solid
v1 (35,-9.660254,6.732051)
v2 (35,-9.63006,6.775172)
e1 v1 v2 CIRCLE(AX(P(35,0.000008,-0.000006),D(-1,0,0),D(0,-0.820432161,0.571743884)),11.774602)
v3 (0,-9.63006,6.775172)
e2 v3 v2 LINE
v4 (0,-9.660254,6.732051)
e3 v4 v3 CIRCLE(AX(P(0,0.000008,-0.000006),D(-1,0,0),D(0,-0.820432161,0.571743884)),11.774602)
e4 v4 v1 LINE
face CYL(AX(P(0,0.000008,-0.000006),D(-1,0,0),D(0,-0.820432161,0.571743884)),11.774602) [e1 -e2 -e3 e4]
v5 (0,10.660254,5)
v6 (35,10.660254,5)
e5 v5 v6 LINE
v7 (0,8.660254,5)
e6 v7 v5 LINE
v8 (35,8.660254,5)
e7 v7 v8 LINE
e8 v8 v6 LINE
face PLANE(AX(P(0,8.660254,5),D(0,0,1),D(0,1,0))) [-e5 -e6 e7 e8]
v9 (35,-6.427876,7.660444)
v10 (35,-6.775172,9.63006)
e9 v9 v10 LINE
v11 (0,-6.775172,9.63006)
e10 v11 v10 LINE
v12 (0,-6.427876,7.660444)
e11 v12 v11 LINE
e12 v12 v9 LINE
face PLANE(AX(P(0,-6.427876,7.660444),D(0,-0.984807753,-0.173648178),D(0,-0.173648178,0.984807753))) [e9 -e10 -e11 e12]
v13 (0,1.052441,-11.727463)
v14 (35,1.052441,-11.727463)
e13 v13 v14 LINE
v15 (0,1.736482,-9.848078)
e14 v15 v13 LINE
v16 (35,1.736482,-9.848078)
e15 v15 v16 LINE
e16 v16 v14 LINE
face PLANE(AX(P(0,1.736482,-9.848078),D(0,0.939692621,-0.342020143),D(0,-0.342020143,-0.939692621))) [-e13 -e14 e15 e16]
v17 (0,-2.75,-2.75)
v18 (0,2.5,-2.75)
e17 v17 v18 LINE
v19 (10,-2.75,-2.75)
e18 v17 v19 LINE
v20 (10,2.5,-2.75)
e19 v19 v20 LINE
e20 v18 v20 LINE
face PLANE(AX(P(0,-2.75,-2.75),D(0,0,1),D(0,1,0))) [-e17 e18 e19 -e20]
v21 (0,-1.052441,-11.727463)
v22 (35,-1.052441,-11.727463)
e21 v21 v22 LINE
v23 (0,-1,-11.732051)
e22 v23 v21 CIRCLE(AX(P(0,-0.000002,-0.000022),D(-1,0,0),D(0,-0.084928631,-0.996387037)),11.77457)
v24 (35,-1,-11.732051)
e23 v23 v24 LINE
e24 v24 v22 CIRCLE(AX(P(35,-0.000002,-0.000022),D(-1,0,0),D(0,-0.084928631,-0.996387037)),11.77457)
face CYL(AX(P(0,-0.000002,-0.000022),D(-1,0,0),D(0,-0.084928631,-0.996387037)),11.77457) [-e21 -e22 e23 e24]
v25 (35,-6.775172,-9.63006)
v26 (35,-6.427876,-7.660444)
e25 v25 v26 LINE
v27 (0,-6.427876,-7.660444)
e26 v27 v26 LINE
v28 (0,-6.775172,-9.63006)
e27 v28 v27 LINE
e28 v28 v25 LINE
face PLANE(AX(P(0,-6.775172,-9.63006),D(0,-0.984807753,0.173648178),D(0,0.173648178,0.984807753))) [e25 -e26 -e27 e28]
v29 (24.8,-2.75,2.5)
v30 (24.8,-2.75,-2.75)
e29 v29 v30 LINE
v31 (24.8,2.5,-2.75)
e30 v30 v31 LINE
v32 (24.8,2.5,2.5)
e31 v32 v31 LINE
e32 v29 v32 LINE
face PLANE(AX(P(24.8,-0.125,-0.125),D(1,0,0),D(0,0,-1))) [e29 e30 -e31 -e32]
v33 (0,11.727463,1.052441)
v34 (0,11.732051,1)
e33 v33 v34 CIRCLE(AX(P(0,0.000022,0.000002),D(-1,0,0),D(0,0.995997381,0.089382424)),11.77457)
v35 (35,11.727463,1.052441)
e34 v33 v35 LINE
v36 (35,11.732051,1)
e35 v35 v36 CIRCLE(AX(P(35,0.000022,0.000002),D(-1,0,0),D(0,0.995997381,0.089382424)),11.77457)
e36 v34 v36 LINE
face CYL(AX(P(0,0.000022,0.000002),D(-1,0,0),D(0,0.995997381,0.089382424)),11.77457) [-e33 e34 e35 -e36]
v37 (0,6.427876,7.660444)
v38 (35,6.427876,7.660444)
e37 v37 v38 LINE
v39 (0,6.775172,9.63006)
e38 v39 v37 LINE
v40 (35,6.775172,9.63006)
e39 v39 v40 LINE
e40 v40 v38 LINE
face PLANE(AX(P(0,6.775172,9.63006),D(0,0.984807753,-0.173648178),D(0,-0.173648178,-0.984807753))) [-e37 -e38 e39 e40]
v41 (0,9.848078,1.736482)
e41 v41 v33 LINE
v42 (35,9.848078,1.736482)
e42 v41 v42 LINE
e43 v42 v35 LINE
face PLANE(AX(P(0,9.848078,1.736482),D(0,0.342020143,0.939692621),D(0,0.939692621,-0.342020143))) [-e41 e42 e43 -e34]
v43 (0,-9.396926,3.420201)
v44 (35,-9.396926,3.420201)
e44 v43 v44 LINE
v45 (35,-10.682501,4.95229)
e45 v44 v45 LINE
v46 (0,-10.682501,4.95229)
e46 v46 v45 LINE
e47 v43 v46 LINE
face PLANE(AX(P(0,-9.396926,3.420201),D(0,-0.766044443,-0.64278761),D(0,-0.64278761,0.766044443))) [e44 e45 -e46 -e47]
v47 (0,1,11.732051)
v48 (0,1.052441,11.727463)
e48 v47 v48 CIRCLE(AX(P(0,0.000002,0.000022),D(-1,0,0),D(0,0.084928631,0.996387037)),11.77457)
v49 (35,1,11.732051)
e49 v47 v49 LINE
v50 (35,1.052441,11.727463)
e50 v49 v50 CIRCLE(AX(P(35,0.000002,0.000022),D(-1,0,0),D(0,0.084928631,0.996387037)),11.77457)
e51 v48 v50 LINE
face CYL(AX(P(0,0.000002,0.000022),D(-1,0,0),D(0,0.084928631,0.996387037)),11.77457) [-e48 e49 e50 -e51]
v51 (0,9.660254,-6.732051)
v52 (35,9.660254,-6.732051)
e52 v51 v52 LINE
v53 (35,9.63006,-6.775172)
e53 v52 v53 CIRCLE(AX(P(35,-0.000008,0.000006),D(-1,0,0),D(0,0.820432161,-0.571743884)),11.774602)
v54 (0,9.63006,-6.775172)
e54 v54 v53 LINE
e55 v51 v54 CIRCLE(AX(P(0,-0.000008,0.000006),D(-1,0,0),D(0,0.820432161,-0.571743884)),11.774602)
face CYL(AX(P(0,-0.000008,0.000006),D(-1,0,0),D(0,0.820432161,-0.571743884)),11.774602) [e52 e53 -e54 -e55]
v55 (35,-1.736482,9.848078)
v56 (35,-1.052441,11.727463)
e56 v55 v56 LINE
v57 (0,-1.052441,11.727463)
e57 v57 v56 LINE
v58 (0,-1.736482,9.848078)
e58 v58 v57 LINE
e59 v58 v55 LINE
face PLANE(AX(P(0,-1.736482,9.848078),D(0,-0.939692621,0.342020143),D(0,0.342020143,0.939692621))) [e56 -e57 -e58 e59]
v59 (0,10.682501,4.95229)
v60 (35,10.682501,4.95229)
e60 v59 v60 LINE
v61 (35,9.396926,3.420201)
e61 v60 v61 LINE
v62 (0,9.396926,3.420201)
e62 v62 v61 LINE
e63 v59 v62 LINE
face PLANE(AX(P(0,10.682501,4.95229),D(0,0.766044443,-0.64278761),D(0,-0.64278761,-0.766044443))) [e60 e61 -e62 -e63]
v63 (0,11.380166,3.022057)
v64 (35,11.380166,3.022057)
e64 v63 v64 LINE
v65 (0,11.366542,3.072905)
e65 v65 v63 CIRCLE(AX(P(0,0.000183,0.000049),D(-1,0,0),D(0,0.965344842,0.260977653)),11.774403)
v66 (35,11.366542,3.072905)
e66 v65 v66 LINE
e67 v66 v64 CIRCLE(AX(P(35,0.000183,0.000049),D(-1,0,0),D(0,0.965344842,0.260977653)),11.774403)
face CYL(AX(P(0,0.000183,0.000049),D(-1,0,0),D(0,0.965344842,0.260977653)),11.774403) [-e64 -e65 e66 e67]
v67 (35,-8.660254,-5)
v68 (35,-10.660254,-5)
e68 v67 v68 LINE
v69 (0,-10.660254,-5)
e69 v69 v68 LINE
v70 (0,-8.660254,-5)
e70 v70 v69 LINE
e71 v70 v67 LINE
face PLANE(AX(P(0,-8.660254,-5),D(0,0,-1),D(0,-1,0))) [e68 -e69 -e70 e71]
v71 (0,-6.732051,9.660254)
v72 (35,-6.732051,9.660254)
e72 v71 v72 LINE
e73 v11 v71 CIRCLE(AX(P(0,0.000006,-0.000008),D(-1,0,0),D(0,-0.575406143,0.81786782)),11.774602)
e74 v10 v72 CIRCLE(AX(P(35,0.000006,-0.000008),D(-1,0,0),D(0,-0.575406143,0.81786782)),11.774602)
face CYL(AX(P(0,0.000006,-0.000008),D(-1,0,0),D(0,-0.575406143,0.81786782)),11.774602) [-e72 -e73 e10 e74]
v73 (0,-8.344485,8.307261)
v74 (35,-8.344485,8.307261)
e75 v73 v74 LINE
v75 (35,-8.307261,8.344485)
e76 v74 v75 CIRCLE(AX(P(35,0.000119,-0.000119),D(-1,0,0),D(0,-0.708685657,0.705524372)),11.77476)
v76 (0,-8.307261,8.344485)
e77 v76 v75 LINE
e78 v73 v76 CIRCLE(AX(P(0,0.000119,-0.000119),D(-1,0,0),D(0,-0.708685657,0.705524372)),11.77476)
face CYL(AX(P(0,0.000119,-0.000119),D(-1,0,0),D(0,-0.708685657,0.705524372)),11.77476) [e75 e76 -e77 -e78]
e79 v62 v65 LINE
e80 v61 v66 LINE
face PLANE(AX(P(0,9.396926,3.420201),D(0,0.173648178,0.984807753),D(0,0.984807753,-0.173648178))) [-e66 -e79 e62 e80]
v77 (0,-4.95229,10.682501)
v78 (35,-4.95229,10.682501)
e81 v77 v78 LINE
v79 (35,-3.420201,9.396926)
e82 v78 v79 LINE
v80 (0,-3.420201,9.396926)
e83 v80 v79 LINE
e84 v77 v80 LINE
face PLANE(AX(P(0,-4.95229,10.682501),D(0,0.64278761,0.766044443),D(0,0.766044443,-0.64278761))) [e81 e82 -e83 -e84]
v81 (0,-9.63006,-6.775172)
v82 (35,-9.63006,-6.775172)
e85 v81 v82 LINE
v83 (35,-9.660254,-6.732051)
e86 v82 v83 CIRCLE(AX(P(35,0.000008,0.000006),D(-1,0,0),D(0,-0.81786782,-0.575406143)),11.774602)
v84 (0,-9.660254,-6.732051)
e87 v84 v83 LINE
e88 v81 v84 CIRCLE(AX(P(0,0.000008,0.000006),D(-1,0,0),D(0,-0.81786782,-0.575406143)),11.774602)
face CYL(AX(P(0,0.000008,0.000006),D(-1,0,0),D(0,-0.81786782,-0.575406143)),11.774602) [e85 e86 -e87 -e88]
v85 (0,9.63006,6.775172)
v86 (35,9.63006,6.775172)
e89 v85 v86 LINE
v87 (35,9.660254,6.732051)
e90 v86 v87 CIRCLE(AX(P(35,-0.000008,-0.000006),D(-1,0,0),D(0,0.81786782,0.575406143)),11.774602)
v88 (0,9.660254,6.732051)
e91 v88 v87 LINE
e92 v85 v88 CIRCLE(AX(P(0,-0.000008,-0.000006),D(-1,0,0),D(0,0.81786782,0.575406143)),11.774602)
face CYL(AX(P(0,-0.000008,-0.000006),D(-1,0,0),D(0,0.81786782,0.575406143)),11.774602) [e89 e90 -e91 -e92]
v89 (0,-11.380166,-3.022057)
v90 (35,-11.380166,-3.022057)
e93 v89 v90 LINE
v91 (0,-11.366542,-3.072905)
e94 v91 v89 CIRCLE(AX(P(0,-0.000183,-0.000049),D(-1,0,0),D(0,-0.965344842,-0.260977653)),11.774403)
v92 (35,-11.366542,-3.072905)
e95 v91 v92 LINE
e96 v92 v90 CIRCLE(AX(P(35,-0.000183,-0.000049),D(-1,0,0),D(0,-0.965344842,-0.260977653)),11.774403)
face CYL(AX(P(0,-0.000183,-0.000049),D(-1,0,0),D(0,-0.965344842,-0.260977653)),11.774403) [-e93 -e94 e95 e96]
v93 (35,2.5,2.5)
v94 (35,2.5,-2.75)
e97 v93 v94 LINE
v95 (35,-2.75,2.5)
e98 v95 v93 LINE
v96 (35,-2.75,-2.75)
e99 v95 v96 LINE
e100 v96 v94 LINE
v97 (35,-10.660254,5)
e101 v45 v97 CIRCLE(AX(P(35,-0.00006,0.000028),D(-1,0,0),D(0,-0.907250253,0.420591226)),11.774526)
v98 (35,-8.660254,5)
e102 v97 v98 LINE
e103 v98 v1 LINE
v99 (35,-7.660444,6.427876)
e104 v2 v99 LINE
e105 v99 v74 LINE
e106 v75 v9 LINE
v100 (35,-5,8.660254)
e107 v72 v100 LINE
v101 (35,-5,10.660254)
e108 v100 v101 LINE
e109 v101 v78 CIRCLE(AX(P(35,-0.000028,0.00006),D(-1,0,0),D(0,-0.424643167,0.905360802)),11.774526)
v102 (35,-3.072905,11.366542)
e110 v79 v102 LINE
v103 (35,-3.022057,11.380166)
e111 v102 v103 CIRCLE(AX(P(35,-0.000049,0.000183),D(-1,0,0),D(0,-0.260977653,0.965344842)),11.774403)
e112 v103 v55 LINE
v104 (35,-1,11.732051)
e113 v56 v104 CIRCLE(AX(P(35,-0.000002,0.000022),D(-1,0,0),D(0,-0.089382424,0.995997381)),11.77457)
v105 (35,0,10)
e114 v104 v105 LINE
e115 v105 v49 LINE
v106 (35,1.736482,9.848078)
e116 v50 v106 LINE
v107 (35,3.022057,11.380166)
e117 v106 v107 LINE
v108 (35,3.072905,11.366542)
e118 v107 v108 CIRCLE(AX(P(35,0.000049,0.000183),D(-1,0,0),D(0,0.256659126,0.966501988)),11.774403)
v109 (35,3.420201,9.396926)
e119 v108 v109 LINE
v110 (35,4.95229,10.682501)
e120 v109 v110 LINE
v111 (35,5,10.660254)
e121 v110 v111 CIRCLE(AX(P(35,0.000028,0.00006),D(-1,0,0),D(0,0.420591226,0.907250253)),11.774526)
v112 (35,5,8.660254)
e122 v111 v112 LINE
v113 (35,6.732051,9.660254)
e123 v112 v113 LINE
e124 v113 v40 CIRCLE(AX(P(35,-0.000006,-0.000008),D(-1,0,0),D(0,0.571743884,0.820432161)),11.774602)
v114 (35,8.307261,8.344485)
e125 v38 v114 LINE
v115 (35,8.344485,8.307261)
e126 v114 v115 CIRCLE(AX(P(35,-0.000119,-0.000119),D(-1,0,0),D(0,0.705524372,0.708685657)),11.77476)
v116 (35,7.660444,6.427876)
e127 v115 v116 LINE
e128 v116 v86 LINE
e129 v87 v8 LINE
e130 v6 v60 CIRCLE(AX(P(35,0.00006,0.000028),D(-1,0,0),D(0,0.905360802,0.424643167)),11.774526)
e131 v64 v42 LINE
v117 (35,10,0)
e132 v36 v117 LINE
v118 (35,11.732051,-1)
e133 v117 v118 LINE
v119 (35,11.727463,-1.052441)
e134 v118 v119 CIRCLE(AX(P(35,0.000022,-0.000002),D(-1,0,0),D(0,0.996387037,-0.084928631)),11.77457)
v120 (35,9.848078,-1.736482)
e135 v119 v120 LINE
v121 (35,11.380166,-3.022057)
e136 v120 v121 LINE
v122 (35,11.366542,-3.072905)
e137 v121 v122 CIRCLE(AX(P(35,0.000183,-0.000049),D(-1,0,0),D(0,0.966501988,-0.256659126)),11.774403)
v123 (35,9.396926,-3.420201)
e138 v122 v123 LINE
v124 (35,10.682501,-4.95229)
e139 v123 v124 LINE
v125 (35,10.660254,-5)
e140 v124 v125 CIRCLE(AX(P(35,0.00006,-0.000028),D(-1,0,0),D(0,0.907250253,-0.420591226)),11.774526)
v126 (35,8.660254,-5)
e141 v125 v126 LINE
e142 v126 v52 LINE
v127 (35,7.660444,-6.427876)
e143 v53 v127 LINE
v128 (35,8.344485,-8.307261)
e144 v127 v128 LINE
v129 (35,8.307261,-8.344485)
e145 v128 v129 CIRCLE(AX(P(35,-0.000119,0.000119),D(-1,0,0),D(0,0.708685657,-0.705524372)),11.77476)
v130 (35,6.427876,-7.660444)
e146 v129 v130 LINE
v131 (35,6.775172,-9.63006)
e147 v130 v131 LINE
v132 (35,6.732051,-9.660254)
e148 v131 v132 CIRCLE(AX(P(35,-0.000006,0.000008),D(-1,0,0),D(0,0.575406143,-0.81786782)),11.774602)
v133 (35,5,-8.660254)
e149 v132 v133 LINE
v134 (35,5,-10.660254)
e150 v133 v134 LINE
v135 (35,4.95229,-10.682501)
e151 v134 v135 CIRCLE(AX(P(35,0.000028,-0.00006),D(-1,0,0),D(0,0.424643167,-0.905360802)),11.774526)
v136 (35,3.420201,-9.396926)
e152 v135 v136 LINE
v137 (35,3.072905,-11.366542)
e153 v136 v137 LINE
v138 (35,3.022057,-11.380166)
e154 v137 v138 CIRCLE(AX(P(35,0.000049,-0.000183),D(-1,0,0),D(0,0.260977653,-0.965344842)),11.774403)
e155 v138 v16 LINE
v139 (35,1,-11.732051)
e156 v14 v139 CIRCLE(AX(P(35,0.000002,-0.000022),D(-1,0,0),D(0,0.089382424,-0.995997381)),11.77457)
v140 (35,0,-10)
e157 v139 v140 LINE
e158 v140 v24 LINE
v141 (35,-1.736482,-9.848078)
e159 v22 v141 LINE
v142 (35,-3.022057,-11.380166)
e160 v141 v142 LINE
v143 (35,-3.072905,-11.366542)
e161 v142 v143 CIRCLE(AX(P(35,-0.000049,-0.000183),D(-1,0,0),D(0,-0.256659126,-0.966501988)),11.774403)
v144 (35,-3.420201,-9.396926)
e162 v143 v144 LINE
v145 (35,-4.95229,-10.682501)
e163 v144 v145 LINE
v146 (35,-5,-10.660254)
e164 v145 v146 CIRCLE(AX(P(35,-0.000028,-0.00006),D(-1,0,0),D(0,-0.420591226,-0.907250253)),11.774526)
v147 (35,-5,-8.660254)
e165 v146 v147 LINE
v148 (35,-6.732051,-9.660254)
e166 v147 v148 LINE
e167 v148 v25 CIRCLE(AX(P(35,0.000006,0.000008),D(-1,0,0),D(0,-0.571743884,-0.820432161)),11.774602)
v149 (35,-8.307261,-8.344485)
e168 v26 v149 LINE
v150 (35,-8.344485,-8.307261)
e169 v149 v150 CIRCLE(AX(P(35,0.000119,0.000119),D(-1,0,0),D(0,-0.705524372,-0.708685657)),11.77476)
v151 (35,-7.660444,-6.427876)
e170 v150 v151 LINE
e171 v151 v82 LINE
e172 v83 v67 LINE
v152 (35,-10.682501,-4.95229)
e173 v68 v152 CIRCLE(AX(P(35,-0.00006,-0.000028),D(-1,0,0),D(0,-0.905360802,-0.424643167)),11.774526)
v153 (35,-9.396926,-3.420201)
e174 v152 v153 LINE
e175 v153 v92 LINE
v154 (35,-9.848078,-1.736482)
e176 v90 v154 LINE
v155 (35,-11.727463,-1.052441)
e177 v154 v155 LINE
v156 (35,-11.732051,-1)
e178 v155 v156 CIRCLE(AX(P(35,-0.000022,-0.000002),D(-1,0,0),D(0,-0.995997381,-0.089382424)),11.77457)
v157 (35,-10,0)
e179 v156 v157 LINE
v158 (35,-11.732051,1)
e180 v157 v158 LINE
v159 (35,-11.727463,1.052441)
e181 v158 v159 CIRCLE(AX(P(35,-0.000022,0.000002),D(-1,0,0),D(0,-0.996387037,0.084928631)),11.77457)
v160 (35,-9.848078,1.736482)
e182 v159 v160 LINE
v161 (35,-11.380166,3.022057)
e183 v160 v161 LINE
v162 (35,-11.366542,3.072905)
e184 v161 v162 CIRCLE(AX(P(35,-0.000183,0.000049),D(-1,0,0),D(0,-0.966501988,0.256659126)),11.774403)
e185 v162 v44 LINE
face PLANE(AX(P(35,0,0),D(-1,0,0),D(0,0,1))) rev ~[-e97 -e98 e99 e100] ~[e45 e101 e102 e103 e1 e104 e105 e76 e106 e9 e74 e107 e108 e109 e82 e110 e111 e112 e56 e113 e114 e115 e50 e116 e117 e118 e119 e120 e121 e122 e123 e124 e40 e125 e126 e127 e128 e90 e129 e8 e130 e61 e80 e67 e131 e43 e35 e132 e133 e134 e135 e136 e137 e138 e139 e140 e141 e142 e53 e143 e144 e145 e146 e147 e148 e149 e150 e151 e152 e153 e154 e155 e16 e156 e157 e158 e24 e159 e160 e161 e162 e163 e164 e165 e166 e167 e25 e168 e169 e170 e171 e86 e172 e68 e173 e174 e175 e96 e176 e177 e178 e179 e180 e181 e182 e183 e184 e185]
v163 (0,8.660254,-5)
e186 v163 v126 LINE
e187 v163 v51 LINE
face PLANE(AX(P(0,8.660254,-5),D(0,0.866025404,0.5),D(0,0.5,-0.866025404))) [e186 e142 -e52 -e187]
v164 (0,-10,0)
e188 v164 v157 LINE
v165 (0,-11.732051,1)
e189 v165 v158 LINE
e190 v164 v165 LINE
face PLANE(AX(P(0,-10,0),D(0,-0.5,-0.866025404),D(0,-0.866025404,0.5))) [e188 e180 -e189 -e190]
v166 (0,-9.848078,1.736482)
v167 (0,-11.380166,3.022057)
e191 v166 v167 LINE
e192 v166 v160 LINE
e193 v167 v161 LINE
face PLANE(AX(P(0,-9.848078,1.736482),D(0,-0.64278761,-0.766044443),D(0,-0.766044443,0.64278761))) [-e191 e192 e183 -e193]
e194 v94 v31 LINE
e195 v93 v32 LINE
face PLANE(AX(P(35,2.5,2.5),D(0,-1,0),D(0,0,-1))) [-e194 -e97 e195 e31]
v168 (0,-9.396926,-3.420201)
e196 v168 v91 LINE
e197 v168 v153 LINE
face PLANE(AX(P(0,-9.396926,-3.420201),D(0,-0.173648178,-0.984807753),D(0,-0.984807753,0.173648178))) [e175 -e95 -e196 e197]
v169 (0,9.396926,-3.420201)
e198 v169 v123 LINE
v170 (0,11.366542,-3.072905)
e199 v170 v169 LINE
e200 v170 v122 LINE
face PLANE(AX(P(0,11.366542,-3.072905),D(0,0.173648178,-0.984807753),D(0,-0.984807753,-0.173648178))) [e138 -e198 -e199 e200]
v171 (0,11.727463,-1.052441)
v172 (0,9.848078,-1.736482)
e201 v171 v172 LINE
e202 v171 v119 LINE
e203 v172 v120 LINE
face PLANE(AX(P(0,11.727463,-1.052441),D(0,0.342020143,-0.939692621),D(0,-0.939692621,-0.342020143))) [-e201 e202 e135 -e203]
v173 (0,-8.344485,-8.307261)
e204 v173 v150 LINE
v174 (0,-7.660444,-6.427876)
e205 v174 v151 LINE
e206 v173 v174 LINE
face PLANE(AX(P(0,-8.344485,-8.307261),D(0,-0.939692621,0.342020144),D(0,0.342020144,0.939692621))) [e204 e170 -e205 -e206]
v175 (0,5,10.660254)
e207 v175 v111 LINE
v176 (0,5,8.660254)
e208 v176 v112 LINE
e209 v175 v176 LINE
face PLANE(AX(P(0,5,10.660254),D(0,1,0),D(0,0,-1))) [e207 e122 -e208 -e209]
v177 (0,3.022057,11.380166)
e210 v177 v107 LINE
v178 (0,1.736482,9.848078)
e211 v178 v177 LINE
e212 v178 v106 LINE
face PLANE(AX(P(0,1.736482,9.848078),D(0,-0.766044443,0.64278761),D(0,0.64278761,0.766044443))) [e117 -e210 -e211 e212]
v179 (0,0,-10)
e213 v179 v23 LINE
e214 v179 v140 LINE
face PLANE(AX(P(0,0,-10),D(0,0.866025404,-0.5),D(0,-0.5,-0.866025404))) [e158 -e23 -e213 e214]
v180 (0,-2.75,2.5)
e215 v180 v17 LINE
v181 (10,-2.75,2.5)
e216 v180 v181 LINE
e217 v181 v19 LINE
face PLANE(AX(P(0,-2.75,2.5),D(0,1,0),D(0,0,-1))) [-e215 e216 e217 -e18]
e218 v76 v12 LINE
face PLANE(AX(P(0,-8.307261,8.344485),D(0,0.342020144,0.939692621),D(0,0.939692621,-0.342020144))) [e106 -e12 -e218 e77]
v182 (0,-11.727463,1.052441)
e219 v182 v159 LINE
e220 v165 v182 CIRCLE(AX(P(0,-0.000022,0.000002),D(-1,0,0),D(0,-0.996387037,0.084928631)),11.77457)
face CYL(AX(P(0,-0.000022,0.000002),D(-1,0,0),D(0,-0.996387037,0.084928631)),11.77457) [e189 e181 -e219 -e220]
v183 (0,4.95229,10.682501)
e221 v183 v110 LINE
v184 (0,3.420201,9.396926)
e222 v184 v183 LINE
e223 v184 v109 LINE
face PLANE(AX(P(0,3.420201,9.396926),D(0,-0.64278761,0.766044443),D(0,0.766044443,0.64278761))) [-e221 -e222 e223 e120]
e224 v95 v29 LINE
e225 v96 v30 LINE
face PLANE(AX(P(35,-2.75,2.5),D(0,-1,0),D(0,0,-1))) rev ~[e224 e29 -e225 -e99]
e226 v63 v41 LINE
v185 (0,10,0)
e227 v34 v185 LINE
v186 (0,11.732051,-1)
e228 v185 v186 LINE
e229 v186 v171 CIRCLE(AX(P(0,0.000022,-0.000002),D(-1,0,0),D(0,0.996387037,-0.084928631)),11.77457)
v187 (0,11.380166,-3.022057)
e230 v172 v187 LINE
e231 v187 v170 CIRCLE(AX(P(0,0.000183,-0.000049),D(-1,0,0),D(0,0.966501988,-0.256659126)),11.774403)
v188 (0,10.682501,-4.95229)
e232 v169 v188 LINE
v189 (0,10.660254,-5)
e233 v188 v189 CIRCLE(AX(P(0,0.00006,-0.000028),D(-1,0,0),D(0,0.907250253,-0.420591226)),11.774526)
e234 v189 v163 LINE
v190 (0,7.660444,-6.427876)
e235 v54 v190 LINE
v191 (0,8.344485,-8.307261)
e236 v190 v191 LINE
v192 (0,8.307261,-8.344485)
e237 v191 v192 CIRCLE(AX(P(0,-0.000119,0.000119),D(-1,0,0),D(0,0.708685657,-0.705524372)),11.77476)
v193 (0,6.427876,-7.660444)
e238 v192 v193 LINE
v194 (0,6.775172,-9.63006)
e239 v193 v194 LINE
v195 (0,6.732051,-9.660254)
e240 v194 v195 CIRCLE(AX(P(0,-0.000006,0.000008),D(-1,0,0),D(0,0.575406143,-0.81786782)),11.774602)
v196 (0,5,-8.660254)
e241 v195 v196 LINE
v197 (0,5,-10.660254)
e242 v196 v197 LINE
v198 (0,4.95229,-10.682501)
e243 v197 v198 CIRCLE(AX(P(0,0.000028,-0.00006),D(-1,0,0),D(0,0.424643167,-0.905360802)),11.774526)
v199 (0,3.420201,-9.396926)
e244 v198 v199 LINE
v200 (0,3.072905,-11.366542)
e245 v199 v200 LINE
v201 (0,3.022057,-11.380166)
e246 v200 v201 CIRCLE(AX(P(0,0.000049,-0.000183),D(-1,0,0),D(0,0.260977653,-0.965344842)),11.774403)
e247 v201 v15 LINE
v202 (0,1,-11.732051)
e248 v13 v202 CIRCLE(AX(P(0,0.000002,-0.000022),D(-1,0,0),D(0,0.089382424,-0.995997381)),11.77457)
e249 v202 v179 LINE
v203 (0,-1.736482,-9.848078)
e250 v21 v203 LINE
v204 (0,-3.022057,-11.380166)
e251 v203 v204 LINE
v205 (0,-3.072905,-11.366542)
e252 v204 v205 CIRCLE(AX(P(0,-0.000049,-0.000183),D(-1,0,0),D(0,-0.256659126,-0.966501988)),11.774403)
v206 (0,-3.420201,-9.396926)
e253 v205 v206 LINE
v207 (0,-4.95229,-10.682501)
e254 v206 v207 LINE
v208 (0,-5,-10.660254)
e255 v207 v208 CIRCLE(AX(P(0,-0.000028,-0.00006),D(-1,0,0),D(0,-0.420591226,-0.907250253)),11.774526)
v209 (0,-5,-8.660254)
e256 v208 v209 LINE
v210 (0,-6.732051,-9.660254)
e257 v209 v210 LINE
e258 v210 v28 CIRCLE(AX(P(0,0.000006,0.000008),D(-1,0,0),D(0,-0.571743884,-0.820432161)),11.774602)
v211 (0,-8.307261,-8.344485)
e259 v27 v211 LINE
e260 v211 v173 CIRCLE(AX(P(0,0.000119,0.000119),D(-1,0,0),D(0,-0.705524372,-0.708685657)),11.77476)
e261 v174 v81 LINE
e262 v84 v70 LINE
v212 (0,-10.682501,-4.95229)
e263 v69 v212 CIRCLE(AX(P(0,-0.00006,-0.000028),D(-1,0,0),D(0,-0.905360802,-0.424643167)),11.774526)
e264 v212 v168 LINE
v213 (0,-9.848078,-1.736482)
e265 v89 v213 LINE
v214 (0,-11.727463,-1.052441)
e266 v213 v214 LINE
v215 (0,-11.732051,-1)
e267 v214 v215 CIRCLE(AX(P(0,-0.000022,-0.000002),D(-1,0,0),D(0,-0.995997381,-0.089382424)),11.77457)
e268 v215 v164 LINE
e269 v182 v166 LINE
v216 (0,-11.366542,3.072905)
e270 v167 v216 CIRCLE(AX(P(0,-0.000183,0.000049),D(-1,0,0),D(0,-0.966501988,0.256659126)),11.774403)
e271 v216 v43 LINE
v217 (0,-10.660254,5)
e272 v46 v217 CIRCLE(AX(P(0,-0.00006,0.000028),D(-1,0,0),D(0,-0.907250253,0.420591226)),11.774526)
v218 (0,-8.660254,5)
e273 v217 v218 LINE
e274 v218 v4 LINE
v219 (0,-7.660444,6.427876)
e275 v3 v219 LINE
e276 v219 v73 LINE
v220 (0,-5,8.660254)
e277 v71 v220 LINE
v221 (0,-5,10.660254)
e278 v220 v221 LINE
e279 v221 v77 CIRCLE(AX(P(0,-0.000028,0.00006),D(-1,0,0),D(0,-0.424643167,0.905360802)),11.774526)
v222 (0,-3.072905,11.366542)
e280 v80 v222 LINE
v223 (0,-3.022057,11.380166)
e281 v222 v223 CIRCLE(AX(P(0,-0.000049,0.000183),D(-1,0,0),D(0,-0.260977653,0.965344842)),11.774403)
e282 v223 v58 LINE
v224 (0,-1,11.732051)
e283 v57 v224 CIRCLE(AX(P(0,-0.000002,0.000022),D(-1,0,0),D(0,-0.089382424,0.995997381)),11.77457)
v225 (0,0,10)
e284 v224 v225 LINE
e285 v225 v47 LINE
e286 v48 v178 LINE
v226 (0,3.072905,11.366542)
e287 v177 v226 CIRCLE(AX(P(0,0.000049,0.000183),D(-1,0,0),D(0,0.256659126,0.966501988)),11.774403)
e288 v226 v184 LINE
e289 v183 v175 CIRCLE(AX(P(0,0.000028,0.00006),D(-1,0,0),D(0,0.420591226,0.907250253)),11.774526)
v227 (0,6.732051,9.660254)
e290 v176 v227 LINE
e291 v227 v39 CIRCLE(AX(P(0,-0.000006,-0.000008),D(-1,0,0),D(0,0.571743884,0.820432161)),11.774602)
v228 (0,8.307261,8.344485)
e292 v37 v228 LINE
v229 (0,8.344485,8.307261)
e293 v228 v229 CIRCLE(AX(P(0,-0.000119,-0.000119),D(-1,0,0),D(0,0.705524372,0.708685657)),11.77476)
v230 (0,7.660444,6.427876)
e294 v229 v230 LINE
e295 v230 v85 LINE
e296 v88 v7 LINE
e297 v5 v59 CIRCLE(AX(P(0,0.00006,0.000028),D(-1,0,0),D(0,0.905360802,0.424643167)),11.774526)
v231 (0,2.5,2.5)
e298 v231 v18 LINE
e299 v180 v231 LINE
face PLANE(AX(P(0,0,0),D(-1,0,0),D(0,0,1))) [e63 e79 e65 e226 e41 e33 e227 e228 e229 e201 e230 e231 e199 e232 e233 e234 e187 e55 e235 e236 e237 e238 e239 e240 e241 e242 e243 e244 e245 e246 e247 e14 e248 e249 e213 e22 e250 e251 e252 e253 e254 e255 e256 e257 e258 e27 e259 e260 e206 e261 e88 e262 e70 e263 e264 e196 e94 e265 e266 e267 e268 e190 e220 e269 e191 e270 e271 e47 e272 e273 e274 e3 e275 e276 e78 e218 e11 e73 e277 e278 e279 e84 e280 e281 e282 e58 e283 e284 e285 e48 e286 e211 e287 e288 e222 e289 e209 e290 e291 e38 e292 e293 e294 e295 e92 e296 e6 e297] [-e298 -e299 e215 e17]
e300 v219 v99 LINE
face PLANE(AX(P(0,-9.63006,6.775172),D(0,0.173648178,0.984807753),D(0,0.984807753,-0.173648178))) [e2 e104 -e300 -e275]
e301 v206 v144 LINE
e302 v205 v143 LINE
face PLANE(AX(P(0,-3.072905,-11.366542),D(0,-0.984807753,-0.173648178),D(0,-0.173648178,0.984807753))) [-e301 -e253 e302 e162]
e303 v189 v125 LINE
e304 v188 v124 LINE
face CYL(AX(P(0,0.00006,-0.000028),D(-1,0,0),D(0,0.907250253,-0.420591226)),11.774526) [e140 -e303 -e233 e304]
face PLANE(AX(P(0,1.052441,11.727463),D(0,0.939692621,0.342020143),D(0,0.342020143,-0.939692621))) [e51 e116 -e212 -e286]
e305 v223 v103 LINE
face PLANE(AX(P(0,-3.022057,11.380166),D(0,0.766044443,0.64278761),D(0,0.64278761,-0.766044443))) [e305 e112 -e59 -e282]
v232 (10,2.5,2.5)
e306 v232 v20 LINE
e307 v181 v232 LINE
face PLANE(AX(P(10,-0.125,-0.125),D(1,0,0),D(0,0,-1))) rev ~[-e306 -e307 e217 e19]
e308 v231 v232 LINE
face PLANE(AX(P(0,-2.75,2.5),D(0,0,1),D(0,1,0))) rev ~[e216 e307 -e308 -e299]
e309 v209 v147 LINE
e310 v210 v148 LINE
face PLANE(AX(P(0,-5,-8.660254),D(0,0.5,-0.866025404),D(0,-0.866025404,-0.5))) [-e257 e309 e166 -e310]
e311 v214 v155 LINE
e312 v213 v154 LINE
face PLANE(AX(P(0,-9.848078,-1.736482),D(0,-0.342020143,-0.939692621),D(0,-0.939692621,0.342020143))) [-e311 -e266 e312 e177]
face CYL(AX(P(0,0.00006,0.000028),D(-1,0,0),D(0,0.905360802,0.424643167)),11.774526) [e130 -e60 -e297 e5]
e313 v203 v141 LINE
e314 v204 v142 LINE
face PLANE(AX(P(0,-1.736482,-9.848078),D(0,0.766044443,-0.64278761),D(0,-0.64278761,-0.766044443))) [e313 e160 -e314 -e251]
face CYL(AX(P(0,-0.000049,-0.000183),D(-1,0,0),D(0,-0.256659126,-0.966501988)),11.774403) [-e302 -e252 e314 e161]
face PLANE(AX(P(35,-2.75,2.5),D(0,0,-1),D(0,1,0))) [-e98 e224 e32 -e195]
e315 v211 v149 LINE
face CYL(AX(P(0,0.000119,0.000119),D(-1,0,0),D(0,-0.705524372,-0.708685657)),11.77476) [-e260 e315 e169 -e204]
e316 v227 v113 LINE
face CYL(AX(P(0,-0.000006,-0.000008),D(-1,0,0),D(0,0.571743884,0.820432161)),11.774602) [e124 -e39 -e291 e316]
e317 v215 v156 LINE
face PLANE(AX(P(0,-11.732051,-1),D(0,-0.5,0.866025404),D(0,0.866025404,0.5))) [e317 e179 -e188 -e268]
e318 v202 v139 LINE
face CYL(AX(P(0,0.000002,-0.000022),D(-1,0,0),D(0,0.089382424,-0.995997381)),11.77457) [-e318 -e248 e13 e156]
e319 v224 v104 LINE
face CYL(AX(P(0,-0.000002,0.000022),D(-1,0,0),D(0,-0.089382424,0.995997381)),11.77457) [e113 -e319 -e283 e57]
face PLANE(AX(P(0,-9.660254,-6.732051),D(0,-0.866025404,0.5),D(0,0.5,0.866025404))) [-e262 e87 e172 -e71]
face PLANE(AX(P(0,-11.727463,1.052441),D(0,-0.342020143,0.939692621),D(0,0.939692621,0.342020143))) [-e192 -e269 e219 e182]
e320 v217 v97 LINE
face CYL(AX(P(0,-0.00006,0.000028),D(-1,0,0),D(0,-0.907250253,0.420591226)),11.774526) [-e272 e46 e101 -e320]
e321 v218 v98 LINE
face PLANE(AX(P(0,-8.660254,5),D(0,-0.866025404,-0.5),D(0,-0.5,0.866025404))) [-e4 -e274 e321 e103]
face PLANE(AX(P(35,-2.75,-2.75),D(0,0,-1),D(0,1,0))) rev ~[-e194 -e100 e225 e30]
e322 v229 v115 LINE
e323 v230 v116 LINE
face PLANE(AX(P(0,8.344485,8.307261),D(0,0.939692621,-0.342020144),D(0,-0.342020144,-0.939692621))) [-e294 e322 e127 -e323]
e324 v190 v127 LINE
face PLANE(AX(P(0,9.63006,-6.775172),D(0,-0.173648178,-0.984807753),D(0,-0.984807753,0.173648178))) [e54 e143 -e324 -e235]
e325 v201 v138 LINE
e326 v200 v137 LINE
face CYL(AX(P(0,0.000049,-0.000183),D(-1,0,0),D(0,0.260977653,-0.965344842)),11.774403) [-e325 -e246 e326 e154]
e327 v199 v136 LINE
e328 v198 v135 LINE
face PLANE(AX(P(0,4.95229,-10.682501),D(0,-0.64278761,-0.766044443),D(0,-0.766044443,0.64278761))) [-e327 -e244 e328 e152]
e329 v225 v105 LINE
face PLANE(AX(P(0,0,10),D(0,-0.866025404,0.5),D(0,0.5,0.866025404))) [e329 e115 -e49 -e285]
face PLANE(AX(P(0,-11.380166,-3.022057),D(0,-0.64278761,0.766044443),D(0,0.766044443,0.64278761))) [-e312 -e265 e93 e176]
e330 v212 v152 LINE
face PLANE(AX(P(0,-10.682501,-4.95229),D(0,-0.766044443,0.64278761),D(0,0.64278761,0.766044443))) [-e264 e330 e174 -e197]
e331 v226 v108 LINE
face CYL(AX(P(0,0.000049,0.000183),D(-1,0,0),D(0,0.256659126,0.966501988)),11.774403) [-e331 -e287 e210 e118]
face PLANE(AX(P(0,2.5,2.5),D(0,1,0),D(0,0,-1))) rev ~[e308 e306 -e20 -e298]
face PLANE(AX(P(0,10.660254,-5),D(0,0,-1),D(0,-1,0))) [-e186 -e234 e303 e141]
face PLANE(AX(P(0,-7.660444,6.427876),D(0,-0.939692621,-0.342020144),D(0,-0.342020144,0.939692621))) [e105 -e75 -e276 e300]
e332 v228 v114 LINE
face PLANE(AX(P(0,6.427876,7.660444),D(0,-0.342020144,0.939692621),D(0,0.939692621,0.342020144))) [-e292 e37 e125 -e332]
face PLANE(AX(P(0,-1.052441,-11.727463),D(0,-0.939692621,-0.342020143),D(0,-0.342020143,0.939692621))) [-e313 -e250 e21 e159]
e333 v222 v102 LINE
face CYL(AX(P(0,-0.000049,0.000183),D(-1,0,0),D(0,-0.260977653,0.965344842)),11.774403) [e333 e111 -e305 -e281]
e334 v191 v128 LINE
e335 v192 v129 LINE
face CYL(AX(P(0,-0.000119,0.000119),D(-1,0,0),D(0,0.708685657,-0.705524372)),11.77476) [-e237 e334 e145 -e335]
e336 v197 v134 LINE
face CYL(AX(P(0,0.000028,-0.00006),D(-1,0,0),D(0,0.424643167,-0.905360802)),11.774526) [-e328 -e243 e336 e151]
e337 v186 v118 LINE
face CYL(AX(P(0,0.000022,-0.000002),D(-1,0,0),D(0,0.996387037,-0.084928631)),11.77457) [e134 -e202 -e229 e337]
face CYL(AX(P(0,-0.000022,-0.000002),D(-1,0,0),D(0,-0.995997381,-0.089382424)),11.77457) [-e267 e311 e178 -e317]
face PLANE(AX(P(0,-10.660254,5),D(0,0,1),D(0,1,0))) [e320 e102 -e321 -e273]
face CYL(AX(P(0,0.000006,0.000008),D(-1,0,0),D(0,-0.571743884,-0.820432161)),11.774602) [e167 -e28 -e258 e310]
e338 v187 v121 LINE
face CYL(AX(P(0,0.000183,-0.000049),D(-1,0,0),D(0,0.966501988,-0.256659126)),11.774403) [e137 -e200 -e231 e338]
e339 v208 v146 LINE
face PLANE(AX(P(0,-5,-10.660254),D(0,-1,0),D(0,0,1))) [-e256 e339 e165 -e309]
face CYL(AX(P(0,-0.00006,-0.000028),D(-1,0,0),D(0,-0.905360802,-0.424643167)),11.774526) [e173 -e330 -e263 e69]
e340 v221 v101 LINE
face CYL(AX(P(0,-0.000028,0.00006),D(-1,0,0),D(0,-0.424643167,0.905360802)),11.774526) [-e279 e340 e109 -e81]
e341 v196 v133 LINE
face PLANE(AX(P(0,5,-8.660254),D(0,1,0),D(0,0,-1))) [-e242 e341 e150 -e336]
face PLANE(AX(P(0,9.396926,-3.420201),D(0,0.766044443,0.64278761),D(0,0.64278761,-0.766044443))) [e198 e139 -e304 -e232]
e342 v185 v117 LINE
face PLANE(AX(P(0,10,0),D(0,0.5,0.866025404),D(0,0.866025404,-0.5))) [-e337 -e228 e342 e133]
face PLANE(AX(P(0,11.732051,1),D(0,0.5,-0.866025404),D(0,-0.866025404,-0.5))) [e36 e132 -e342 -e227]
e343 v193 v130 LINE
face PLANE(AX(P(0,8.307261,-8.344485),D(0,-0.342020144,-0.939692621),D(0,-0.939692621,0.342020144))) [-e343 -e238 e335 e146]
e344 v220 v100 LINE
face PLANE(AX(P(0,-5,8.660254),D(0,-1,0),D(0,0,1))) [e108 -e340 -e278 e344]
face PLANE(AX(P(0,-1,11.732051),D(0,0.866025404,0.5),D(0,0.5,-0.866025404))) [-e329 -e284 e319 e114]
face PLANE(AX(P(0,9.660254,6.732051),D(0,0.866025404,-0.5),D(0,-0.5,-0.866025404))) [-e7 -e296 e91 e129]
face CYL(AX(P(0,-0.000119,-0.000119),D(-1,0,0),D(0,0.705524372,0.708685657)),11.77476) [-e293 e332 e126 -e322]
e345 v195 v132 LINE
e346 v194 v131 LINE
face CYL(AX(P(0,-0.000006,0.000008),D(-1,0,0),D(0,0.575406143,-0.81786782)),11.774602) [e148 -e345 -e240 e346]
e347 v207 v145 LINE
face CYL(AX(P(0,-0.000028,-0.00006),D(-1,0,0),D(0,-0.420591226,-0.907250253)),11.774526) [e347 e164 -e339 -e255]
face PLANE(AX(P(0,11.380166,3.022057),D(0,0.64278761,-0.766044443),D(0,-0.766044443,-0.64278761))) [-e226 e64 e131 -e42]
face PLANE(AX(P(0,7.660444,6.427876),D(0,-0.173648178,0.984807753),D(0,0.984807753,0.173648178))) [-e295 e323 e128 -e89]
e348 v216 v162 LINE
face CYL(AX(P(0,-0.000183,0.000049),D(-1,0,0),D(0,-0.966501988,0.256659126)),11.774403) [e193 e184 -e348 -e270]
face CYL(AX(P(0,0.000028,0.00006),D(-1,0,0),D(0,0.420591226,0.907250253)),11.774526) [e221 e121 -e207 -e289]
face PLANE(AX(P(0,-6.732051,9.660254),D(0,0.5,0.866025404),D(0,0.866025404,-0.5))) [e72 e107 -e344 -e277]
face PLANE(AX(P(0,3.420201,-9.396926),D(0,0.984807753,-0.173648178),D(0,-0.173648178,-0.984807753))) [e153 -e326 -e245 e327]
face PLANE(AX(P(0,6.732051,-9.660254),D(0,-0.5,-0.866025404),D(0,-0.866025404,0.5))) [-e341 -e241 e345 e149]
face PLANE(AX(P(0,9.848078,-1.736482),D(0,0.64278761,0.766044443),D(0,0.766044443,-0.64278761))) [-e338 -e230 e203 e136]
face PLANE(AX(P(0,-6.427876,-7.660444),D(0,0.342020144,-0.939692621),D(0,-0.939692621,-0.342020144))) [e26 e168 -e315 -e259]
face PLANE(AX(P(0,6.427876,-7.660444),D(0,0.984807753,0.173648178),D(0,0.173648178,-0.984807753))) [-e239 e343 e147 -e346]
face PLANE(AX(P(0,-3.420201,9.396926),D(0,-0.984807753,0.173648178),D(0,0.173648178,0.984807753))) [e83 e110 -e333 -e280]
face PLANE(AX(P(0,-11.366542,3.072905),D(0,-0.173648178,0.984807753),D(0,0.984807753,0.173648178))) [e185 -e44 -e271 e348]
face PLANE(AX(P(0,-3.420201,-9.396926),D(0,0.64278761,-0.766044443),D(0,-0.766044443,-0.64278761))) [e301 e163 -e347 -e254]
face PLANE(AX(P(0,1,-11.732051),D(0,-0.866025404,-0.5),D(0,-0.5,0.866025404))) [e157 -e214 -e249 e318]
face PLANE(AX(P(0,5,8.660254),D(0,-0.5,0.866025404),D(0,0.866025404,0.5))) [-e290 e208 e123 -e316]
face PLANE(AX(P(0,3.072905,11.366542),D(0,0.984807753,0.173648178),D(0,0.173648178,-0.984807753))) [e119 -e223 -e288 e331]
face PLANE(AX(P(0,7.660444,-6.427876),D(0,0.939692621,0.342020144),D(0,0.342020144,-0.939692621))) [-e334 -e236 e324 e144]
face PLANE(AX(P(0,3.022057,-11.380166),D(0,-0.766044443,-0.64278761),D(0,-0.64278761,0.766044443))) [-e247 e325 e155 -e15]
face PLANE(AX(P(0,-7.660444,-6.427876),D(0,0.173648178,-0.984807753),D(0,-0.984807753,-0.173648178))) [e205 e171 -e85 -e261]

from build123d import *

# Parameters (mm, degrees)
BOSS_EXTRUDE1_DEPTH = 35
SKETCH3_W           = 5.25
SKETCH3_H           = 5.25
CUT_EXTRUDE2_DEPTH  = 10.2
CUT_EXTRUDE3_START  = -35
SKETCH3_2_W         = 5.25
SKETCH3_2_H         = 5.25
CUT_EXTRUDE3_DEPTH  = 10


with BuildPart() as part:
    # Sketch1 → Boss-Extrude1 (new body)
    with BuildSketch(Plane(origin=(0, 0, 0), x_dir=(0, 0, -1), z_dir=(1, 0, 0))):
        with BuildLine():
            Line((-1, 11.732050808), (0, 10))
            Line((0, 10), (1, 11.732050808))
            ThreePointArc((1, 11.732050808), (1.026223309, 11.729786097), (1.05244149, 11.727462772))
            Line((1.05244149, 11.727462772), (1.736481777, 9.84807753))
            Line((1.736481777, 9.84807753), (3.022056996, 11.380166416))
            ThreePointArc((3.022056996, 11.380166416), (3.047488651, 11.373382482), (3.072905078, 11.366541714))
            Line((3.072905078, 11.366541714), (3.420201433, 9.396926208))
            Line((3.420201433, 9.396926208), (4.952290319, 10.682501427))
            ThreePointArc((4.952290319, 10.682501427), (4.976157593, 10.671404395), (5, 10.660254038))
            Line((5, 10.660254038), (5, 8.660254038))
            Line((5, 8.660254038), (6.732050808, 9.660254038))
            ThreePointArc((6.732050808, 9.660254038), (6.753628504, 9.645181086), (6.775172452, 9.630059937))
            Line((6.775172452, 9.630059937), (6.427876097, 7.660444431))
            Line((6.427876097, 7.660444431), (8.307261338, 8.344484718))
            ThreePointArc((8.307261338, 8.344484718), (8.32589383, 8.32589383), (8.344484718, 8.307261338))
            Line((8.344484718, 8.307261338), (7.660444431, 6.427876097))
            Line((7.660444431, 6.427876097), (9.630059937, 6.775172452))
            ThreePointArc((9.630059937, 6.775172452), (9.645181086, 6.753628504), (9.660254038, 6.732050808))
            Line((9.660254038, 6.732050808), (8.660254038, 5))
            Line((8.660254038, 5), (10.660254038, 5))
            ThreePointArc((10.660254038, 5), (10.671404395, 4.976157593), (10.682501427, 4.952290319))
            Line((10.682501427, 4.952290319), (9.396926208, 3.420201433))
            Line((9.396926208, 3.420201433), (11.366541714, 3.072905078))
            ThreePointArc((11.366541714, 3.072905078), (11.373382482, 3.047488651), (11.380166416, 3.022056996))
            Line((11.380166416, 3.022056996), (9.84807753, 1.736481777))
            Line((9.84807753, 1.736481777), (11.727462772, 1.05244149))
            ThreePointArc((11.727462772, 1.05244149), (11.729786097, 1.026223309), (11.732050808, 1))
            Line((11.732050808, 1), (10, 0))
            Line((10, 0), (11.732050808, -1))
            ThreePointArc((11.732050808, -1), (11.729786097, -1.026223309), (11.727462772, -1.05244149))
            Line((11.727462772, -1.05244149), (9.84807753, -1.736481777))
            Line((9.84807753, -1.736481777), (11.380166416, -3.022056996))
            ThreePointArc((11.380166416, -3.022056996), (11.373382482, -3.047488651), (11.366541714, -3.072905078))
            Line((11.366541714, -3.072905078), (9.396926208, -3.420201433))
            Line((9.396926208, -3.420201433), (10.682501427, -4.952290319))
            ThreePointArc((10.682501427, -4.952290319), (10.671404395, -4.976157593), (10.660254038, -5))
            Line((10.660254038, -5), (8.660254038, -5))
            Line((8.660254038, -5), (9.660254038, -6.732050808))
            ThreePointArc((9.660254038, -6.732050808), (9.645181086, -6.753628504), (9.630059937, -6.775172452))
            Line((9.630059937, -6.775172452), (7.660444431, -6.427876097))
            Line((7.660444431, -6.427876097), (8.344484718, -8.307261338))
            ThreePointArc((8.344484718, -8.307261338), (8.32589383, -8.32589383), (8.307261338, -8.344484718))
            Line((8.307261338, -8.344484718), (6.427876097, -7.660444431))
            Line((6.427876097, -7.660444431), (6.775172452, -9.630059937))
            ThreePointArc((6.775172452, -9.630059937), (6.753628504, -9.645181086), (6.732050808, -9.660254038))
            Line((6.732050808, -9.660254038), (5, -8.660254038))
            Line((5, -8.660254038), (5, -10.660254038))
            ThreePointArc((5, -10.660254038), (4.976157593, -10.671404395), (4.952290319, -10.682501427))
            Line((4.952290319, -10.682501427), (3.420201433, -9.396926208))
            Line((3.420201433, -9.396926208), (3.072905078, -11.366541714))
            ThreePointArc((3.072905078, -11.366541714), (3.047488651, -11.373382482), (3.022056996, -11.380166416))
            Line((3.022056996, -11.380166416), (1.736481777, -9.84807753))
            Line((1.736481777, -9.84807753), (1.05244149, -11.727462772))
            ThreePointArc((1.05244149, -11.727462772), (1.026223309, -11.729786097), (1, -11.732050808))
            Line((1, -11.732050808), (0, -10))
            Line((0, -10), (-1, -11.732050808))
            ThreePointArc((-1, -11.732050808), (-1.026223309, -11.729786097), (-1.05244149, -11.727462772))
            Line((-1.05244149, -11.727462772), (-1.736481777, -9.84807753))
            Line((-1.736481777, -9.84807753), (-3.022056996, -11.380166416))
            ThreePointArc((-3.022056996, -11.380166416), (-3.047488651, -11.373382482), (-3.072905078, -11.366541714))
            Line((-3.072905078, -11.366541714), (-3.420201433, -9.396926208))
            Line((-3.420201433, -9.396926208), (-4.952290319, -10.682501427))
            ThreePointArc((-4.952290319, -10.682501427), (-4.976157593, -10.671404395), (-5, -10.660254038))
            Line((-5, -10.660254038), (-5, -8.660254038))
            Line((-5, -8.660254038), (-6.732050808, -9.660254038))
            ThreePointArc((-6.732050808, -9.660254038), (-6.753628504, -9.645181086), (-6.775172452, -9.630059937))
            Line((-6.775172452, -9.630059937), (-6.427876097, -7.660444431))
            Line((-6.427876097, -7.660444431), (-8.307261338, -8.344484718))
            ThreePointArc((-8.307261338, -8.344484718), (-8.32589383, -8.32589383), (-8.344484718, -8.307261338))
            Line((-8.344484718, -8.307261338), (-7.660444431, -6.427876097))
            Line((-7.660444431, -6.427876097), (-9.630059937, -6.775172452))
            ThreePointArc((-9.630059937, -6.775172452), (-9.645181086, -6.753628504), (-9.660254038, -6.732050808))
            Line((-9.660254038, -6.732050808), (-8.660254038, -5))
            Line((-8.660254038, -5), (-10.660254038, -5))
            ThreePointArc((-10.660254038, -5), (-10.671404395, -4.976157593), (-10.682501427, -4.952290319))
            Line((-10.682501427, -4.952290319), (-9.396926208, -3.420201433))
            Line((-9.396926208, -3.420201433), (-11.366541714, -3.072905078))
            ThreePointArc((-11.366541714, -3.072905078), (-11.373382482, -3.047488651), (-11.380166416, -3.022056996))
            Line((-11.380166416, -3.022056996), (-9.84807753, -1.736481777))
            Line((-9.84807753, -1.736481777), (-11.727462772, -1.05244149))
            ThreePointArc((-11.727462772, -1.05244149), (-11.729786097, -1.026223309), (-11.732050808, -1))
            Line((-11.732050808, -1), (-10, 0))
            Line((-10, 0), (-11.732050808, 1))
            ThreePointArc((-11.732050808, 1), (-11.729786097, 1.026223309), (-11.727462772, 1.05244149))
            Line((-11.727462772, 1.05244149), (-9.84807753, 1.736481777))
            Line((-9.84807753, 1.736481777), (-11.380166416, 3.022056996))
            ThreePointArc((-11.380166416, 3.022056996), (-11.373382482, 3.047488651), (-11.366541714, 3.072905078))
            Line((-11.366541714, 3.072905078), (-9.396926208, 3.420201433))
            Line((-9.396926208, 3.420201433), (-10.682501427, 4.952290319))
            ThreePointArc((-10.682501427, 4.952290319), (-10.671404395, 4.976157593), (-10.660254038, 5))
            Line((-10.660254038, 5), (-8.660254038, 5))
            Line((-8.660254038, 5), (-9.660254038, 6.732050808))
            ThreePointArc((-9.660254038, 6.732050808), (-9.645181086, 6.753628504), (-9.630059937, 6.775172452))
            Line((-9.630059937, 6.775172452), (-7.660444431, 6.427876097))
            Line((-7.660444431, 6.427876097), (-8.344484718, 8.307261338))
            ThreePointArc((-8.344484718, 8.307261338), (-8.32589383, 8.32589383), (-8.307261338, 8.344484718))
            Line((-8.307261338, 8.344484718), (-6.427876097, 7.660444431))
            Line((-6.427876097, 7.660444431), (-6.775172452, 9.630059937))
            ThreePointArc((-6.775172452, 9.630059937), (-6.753628504, 9.645181086), (-6.732050808, 9.660254038))
            Line((-6.732050808, 9.660254038), (-5, 8.660254038))
            Line((-5, 8.660254038), (-5, 10.660254038))
            ThreePointArc((-5, 10.660254038), (-4.976157593, 10.671404395), (-4.952290319, 10.682501427))
            Line((-4.952290319, 10.682501427), (-3.420201433, 9.396926208))
            Line((-3.420201433, 9.396926208), (-3.072905078, 11.366541714))
            ThreePointArc((-3.072905078, 11.366541714), (-3.047488651, 11.373382482), (-3.022056996, 11.380166416))
            Line((-3.022056996, 11.380166416), (-1.736481777, 9.84807753))
            Line((-1.736481777, 9.84807753), (-1.05244149, 11.727462772))
            ThreePointArc((-1.05244149, 11.727462772), (-1.026223309, 11.729786097), (-1, 11.732050808))
        make_face()
    extrude(amount=BOSS_EXTRUDE1_DEPTH)

    # Sketch3 → Cut-Extrude2 (cut)
    with BuildSketch(Plane(origin=(35, 0, 0), x_dir=(0, 0, -1), z_dir=(1, 0, 0))):
        with Locations((0.125, -0.125)):
            Rectangle(SKETCH3_W, SKETCH3_H)
    extrude(amount=-CUT_EXTRUDE2_DEPTH, mode=Mode.SUBTRACT)

    # Sketch3<2> → Cut-Extrude3 (cut)
    with BuildSketch(Plane(origin=(35, 0, 0), x_dir=(0, 0, -1), z_dir=(1, 0, 0)).offset(CUT_EXTRUDE3_START)):
        with Locations((0.125, -0.125)):
            Rectangle(SKETCH3_2_W, SKETCH3_2_H)
    extrude(amount=CUT_EXTRUDE3_DEPTH, mode=Mode.SUBTRACT)


solid = part.part
